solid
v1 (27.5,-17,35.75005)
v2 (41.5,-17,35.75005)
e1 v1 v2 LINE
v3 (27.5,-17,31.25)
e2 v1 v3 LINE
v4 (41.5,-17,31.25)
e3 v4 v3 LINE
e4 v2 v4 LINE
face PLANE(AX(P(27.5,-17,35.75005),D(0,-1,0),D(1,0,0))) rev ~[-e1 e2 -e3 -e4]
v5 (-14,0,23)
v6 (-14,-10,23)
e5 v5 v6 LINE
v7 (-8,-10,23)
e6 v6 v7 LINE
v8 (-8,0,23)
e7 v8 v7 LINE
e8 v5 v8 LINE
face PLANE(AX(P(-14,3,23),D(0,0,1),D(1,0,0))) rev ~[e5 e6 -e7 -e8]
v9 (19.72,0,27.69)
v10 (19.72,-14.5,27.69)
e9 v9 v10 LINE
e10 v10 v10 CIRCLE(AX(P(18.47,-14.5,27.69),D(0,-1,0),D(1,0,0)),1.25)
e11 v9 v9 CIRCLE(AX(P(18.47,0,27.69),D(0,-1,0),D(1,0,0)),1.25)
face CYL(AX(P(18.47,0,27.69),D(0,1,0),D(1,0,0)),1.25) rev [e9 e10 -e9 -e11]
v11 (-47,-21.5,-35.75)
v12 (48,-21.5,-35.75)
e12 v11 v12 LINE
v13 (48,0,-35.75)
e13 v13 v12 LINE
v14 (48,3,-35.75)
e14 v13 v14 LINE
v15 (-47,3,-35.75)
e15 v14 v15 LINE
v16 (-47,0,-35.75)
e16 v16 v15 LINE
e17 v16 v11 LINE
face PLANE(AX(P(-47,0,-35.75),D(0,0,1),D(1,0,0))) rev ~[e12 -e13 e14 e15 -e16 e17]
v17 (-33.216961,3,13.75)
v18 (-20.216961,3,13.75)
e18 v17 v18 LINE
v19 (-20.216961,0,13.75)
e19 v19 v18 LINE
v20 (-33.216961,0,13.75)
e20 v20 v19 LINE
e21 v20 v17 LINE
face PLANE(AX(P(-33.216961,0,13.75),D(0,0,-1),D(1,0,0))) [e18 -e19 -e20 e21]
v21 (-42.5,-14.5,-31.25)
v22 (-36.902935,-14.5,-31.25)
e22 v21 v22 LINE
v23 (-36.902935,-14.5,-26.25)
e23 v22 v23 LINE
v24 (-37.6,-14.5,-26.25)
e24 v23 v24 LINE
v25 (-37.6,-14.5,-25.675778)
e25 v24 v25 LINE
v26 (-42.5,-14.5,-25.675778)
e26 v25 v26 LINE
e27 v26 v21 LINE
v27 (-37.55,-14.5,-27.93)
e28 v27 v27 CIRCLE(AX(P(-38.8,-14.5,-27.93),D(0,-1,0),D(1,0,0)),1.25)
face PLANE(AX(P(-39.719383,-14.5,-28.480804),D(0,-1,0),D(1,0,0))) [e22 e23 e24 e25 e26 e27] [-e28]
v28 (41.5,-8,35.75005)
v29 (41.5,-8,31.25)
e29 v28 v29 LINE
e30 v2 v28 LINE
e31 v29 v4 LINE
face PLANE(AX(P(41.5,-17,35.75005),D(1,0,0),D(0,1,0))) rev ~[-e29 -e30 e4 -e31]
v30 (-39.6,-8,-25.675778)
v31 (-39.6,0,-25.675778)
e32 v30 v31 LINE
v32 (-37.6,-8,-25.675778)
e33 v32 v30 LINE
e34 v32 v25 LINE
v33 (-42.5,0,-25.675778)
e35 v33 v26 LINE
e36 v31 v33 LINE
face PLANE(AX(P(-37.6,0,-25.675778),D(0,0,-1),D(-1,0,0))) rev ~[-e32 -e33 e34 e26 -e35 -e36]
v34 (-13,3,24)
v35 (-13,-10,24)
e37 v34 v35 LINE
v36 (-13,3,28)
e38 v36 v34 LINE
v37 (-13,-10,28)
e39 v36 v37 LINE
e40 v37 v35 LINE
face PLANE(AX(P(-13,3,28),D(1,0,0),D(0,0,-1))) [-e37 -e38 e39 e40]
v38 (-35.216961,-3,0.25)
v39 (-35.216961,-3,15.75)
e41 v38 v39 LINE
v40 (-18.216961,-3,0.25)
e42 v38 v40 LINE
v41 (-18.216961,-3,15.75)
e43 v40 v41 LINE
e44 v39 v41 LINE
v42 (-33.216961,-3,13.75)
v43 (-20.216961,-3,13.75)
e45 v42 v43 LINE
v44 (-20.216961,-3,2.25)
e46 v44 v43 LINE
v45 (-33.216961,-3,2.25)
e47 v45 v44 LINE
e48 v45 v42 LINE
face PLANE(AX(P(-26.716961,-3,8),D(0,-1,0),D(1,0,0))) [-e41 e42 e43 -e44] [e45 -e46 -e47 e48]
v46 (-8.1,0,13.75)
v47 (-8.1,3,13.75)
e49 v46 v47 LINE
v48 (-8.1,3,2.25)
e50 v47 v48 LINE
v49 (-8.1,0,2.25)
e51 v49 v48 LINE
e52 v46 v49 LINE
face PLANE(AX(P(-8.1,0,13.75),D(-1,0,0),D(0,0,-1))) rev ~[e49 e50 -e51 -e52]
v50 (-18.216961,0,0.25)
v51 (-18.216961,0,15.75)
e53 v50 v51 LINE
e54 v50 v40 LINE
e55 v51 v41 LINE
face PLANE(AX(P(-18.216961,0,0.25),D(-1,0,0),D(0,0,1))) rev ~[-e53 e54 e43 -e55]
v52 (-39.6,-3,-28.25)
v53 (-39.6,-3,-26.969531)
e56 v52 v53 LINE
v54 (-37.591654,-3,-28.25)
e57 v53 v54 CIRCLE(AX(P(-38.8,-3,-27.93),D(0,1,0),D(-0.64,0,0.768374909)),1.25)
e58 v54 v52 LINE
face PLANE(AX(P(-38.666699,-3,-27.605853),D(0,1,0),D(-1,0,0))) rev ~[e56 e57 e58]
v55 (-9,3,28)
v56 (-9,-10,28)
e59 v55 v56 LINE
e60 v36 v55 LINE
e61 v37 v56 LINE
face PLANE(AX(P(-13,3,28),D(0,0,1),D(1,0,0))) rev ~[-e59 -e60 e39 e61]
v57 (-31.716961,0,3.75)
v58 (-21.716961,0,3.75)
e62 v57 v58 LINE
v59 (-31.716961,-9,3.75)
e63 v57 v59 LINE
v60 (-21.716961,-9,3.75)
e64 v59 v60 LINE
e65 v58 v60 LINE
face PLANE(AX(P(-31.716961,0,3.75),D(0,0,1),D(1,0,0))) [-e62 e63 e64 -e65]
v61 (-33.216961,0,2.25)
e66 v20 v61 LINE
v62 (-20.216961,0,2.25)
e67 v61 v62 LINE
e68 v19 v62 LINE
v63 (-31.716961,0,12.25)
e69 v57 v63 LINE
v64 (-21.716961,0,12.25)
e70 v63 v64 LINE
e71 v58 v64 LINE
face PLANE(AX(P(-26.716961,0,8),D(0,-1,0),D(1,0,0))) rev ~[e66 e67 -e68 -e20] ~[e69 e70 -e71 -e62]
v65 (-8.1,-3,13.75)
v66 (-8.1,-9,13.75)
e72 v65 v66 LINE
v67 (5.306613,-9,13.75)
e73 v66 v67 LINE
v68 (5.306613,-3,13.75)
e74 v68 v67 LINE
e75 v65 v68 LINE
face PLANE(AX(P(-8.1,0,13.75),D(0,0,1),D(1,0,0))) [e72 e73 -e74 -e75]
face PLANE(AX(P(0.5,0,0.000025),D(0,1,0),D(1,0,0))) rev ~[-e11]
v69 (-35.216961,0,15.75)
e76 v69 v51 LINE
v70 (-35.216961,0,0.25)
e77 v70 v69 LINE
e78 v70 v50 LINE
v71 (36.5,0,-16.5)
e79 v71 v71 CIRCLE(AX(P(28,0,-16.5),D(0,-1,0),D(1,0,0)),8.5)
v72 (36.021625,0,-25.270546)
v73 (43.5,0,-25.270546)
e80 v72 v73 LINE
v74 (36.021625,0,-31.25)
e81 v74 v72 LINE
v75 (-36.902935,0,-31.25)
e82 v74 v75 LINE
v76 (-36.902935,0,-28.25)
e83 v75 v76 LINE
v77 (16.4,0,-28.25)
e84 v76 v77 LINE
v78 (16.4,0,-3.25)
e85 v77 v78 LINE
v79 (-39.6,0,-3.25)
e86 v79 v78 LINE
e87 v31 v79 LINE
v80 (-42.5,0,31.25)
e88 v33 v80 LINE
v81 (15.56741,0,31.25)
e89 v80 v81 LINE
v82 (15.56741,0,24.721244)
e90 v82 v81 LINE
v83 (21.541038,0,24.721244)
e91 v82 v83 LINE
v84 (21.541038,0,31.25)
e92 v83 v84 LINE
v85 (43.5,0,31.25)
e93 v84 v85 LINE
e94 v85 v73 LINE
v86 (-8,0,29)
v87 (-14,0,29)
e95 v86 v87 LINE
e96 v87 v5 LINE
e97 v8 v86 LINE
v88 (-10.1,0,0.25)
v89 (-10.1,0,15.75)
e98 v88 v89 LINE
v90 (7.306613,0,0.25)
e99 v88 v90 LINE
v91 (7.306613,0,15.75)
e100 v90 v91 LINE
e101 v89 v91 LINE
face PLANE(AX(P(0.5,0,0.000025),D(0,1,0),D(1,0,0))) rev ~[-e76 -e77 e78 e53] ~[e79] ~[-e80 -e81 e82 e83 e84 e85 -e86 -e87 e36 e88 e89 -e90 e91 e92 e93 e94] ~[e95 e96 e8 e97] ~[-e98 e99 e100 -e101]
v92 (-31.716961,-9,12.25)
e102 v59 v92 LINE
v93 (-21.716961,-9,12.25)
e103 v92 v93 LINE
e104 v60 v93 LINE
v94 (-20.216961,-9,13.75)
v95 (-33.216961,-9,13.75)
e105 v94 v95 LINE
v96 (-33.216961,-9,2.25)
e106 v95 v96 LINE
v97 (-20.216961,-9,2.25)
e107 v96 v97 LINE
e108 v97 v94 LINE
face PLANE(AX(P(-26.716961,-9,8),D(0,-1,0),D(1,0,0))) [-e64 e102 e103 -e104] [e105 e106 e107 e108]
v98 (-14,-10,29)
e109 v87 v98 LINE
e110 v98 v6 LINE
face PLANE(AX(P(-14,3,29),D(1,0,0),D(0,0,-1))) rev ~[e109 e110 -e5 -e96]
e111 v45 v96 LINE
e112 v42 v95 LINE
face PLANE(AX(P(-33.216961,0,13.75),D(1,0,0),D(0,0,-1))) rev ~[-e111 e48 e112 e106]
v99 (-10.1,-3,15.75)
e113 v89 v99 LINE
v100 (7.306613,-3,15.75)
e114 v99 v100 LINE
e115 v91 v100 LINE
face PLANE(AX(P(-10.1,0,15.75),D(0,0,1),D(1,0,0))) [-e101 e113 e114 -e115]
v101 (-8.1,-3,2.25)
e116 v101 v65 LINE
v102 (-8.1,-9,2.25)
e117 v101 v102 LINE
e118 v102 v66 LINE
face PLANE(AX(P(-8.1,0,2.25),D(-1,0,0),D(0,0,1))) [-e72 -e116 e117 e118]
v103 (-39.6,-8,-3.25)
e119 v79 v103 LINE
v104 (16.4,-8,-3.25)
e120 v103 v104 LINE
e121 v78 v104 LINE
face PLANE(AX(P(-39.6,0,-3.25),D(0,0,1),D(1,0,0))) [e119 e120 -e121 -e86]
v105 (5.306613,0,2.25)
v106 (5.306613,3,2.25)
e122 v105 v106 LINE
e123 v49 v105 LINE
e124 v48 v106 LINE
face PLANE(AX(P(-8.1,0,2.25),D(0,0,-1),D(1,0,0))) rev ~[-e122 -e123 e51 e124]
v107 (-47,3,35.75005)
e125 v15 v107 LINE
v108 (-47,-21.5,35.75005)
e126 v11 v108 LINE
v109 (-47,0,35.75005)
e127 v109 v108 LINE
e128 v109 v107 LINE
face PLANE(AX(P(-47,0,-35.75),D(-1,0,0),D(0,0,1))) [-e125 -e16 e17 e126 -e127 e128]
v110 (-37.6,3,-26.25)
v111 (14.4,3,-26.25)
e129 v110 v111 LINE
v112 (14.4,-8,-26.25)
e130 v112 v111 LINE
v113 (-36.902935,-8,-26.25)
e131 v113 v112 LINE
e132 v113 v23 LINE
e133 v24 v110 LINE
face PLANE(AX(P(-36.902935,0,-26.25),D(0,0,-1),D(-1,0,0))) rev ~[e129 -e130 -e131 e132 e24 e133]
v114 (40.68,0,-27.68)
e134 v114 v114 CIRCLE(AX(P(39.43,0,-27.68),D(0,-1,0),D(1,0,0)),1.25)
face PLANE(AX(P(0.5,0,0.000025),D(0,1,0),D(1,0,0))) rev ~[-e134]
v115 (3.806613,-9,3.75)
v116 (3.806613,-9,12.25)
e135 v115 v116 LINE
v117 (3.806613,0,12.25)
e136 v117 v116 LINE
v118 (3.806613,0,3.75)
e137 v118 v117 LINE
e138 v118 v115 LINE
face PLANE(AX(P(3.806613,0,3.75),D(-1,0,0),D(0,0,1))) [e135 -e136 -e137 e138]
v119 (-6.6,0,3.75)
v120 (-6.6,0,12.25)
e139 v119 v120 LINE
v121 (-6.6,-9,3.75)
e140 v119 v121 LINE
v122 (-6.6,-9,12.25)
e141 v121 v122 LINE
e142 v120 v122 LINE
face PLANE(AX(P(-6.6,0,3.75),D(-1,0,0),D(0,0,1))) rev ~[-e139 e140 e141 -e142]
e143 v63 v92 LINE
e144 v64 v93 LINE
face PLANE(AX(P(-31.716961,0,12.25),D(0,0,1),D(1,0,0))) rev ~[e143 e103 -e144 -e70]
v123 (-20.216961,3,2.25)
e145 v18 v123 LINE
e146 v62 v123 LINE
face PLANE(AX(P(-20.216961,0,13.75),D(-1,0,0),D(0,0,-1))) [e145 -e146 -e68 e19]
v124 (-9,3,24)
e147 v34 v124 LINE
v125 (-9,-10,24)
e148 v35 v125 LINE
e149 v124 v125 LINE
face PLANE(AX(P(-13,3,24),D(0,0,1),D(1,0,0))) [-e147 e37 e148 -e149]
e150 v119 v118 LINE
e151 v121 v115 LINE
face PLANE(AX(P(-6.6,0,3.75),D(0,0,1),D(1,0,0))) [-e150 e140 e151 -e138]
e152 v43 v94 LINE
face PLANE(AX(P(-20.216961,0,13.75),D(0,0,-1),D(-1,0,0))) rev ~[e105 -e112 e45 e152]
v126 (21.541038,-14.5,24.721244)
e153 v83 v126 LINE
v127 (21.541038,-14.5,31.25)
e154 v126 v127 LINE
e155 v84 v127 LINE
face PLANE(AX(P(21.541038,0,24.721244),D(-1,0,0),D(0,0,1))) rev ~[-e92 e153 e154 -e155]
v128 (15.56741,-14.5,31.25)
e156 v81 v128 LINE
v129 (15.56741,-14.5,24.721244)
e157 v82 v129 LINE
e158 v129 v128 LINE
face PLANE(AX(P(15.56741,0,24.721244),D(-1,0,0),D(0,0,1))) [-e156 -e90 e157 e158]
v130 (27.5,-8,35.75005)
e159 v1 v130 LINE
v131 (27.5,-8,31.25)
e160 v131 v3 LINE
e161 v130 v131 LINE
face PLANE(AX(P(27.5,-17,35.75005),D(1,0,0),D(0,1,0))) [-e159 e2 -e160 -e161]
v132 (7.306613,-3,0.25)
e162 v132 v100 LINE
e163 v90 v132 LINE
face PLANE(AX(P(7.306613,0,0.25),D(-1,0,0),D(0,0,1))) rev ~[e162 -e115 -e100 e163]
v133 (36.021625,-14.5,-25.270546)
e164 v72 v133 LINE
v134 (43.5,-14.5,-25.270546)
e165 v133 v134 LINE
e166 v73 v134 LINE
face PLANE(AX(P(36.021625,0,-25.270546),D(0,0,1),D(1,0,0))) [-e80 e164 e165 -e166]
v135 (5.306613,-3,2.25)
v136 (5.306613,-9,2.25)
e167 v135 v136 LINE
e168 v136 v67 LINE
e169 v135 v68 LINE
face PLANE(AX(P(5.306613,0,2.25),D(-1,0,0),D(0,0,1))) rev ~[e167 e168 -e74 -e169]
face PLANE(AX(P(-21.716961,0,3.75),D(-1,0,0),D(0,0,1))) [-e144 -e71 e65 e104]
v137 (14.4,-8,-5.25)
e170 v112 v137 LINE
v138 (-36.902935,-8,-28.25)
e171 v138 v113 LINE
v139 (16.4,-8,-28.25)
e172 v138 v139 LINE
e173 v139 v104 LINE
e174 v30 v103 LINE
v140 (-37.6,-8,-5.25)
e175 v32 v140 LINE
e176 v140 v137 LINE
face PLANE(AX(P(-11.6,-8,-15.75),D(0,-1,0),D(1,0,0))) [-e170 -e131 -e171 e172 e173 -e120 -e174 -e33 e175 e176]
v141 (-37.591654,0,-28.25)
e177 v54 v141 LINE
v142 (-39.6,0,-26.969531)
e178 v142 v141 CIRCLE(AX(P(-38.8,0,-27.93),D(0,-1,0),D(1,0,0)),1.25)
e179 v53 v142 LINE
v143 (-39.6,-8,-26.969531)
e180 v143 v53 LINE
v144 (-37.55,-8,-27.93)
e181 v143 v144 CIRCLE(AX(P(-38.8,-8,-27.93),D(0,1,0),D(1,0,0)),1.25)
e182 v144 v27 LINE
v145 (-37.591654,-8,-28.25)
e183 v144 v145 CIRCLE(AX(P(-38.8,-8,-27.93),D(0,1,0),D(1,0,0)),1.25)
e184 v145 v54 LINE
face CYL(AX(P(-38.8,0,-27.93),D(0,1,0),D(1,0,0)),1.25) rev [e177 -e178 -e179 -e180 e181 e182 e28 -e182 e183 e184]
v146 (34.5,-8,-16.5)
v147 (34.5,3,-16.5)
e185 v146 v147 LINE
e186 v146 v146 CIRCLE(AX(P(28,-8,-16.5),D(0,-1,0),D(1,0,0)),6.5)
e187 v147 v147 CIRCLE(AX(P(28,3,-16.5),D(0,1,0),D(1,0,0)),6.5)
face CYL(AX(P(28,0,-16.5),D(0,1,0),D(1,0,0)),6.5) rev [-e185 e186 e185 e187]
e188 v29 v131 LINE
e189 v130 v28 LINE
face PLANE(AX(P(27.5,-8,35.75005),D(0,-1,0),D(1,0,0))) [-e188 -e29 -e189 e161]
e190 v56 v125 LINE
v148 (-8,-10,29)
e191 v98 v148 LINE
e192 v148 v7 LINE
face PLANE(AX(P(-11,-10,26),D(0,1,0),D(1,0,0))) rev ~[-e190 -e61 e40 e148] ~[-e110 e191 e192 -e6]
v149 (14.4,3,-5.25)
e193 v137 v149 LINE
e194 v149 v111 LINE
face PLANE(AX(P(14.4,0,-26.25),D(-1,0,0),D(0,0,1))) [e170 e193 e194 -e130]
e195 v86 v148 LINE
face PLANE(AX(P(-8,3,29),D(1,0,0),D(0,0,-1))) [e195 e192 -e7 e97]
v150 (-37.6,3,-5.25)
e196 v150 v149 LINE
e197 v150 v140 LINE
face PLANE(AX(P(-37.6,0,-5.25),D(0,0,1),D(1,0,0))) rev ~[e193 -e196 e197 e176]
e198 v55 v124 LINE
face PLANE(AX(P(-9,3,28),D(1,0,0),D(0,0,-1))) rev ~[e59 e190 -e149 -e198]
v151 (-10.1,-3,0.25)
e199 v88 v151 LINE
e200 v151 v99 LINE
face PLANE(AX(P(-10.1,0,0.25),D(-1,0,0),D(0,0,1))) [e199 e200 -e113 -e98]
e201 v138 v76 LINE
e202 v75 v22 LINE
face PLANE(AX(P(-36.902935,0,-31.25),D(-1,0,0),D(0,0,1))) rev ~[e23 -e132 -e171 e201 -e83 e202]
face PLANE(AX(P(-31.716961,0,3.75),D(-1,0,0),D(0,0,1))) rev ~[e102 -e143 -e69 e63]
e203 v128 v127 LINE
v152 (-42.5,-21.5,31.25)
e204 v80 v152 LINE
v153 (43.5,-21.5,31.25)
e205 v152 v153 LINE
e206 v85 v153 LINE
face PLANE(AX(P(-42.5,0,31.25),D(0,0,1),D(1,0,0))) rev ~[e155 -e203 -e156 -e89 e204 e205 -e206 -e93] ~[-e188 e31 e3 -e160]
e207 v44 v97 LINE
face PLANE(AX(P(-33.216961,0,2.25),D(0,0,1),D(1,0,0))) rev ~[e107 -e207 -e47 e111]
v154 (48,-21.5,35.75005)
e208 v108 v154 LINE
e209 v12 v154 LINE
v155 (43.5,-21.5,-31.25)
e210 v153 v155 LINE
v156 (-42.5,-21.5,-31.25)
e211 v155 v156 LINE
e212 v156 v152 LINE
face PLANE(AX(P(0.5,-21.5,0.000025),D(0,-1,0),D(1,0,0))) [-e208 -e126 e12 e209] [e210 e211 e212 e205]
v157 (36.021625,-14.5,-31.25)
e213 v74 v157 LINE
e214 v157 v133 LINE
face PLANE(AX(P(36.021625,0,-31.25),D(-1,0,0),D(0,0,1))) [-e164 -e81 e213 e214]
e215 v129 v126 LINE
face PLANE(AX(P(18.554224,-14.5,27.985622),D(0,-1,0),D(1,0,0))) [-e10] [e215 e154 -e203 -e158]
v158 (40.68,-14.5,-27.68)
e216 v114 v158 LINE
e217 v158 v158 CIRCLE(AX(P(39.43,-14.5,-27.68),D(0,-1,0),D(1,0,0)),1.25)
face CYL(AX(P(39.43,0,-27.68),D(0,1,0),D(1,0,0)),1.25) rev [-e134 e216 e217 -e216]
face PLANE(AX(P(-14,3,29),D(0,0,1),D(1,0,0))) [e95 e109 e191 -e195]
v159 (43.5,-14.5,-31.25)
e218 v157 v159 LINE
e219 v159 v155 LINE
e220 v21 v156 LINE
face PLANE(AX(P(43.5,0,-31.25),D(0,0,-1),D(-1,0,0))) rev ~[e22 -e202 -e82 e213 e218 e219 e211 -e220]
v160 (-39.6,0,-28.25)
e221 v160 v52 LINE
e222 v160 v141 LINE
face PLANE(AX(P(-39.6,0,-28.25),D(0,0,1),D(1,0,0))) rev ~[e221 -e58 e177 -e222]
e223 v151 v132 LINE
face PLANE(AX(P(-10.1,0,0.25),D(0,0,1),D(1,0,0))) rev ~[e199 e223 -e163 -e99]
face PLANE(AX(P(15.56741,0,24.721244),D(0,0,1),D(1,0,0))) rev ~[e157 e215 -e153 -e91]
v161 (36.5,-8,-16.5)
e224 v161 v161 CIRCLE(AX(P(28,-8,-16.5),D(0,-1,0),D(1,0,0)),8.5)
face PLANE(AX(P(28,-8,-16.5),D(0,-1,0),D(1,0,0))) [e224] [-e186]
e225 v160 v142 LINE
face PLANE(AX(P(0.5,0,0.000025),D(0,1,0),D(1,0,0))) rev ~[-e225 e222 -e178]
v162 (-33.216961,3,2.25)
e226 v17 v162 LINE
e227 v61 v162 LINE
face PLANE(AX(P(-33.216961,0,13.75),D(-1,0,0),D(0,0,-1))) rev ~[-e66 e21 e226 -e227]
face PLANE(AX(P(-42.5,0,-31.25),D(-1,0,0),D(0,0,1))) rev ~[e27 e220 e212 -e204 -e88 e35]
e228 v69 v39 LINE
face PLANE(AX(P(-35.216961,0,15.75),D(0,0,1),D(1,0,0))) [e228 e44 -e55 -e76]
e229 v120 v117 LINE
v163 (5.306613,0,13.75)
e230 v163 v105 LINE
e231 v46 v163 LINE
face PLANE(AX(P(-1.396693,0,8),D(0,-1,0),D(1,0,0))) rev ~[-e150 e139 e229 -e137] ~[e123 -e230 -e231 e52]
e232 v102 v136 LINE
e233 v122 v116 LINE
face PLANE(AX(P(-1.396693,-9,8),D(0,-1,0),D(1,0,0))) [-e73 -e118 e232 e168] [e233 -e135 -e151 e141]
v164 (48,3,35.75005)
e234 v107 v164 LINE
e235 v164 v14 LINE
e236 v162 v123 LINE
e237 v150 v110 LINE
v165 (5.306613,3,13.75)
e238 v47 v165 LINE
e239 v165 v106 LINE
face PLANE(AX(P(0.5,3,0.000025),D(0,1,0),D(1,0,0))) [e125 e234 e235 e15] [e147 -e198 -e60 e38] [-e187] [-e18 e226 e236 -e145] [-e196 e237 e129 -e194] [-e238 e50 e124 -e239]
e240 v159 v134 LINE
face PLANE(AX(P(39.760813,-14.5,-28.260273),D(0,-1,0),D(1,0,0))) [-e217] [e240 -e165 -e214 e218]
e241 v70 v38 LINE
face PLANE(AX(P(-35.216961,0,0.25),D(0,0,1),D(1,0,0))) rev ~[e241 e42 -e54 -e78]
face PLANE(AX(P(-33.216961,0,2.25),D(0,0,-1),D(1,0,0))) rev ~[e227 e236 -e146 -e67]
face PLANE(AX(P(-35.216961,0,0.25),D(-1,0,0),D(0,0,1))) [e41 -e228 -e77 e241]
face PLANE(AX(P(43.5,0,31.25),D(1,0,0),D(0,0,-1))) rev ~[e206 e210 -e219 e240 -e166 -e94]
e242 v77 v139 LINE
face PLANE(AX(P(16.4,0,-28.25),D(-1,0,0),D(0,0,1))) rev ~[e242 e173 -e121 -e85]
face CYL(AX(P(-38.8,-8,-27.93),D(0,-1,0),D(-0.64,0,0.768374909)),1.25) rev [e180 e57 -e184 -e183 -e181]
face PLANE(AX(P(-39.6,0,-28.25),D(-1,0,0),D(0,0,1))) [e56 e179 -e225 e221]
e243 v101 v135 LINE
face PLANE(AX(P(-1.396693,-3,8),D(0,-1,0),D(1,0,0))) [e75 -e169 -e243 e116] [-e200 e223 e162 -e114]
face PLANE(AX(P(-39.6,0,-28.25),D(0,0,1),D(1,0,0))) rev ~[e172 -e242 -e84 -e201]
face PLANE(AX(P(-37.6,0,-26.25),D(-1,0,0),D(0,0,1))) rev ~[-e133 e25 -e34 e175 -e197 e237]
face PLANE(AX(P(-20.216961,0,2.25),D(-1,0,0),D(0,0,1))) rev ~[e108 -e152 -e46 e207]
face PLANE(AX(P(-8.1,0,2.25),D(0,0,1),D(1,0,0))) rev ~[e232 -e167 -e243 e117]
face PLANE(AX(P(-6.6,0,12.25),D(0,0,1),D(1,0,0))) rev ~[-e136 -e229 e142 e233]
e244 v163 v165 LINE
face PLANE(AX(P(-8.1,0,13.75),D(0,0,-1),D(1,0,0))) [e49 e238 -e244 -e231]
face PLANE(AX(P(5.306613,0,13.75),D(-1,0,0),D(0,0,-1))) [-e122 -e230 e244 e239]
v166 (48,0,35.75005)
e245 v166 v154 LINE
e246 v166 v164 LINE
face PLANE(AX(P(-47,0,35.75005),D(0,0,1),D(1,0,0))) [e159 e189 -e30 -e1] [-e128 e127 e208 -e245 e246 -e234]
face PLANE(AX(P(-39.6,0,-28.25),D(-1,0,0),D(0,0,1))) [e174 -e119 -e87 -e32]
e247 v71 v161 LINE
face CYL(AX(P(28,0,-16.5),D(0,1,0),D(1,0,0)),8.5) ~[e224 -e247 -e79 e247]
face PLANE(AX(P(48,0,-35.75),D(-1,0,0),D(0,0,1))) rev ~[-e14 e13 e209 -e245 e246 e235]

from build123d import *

# Parameters (mm, degrees)
SKETCH1_W             = 13
SKETCH1_H             = 11.5
SKETCH1_W_2           = 13.406613497
SKETCH1_W_3           = 52
SKETCH1_H_2           = 21
SKETCH1_R             = 6.5
BOSS_EXTRUDE1_DEPTH   = 3
SKETCH2_W             = 95
SKETCH2_H             = 71.500049505
BOSS_EXTRUDE2_DEPTH   = 21.5
SKETCH3_R             = 1.25
SKETCH3_W             = 7.478374846
SKETCH3_H             = 5.979454016
SKETCH3_W_2           = 5.973627986
SKETCH3_H_2           = 6.528755861
BOSS_EXTRUDE3_DEPTH   = 14.5
CUT_EXTRUDE1_REACH    = 73.5
SKETCH4_W             = 14
SKETCH4_H             = 9
SKETCH5_R             = 8.5
SKETCH5_R_2           = 6.5
SKETCH5_W             = 56
SKETCH5_H             = 25
SKETCH5_W_2           = 52
SKETCH5_H_2           = 21
BOSS_EXTRUDE4_DEPTH   = 8
SKETCH7_W             = 6
SKETCH7_H             = 6
SKETCH7_W_2           = 4
SKETCH7_H_2           = 4
BOSS_EXTRUDE5_DEPTH   = 13
SKETCH8_W             = 10
SKETCH8_H             = 8.5
BOSS_EXTRUDE6_DEPTH   = 9
SKETCH8_W_2           = 13.406613497
SKETCH8_H_2           = 11.5
SKETCH8_W_3           = 10.406613497
BOSS_EXTRUDE6_2_DEPTH = 9
SKETCH9_W             = 17.406613497
SKETCH9_H             = 15.5
SKETCH9_W_2           = 13.406613497
SKETCH9_H_2           = 11.5
SKETCH9_W_3           = 17
SKETCH9_W_4           = 13
BOSS_EXTRUDE7_DEPTH   = 3
CUT_EXTRUDE2_DEPTH    = 5


with BuildPart() as part:
    # Sketch1 → Boss-Extrude1 (new body)
    with BuildSketch(Plane(origin=(0, 0, 0), x_dir=(1, 0, 0), z_dir=(0, 1, 0))):
        Polygon((48, 35.75), (46, 35.75), (45, 35.75), (-47, 35.75), (-47, 33.75), (-47, -33.75), (-47, -35.750049505), (45, -35.750049505), (46, -35.750049505), (48, -35.750049505), align=None)
        Polygon((-8, -29), (-11, -29), (-14, -29), (-14, -23), (-8, -23), align=None, mode=Mode.SUBTRACT)
        with Locations((-26.716961343, -8)):
            Rectangle(SKETCH1_W, SKETCH1_H, mode=Mode.SUBTRACT)
        with Locations((-1.396693251, -8)):
            Rectangle(SKETCH1_W_2, SKETCH1_H, mode=Mode.SUBTRACT)
        with Locations((-11.6, 15.75)):
            Rectangle(SKETCH1_W_3, SKETCH1_H_2, mode=Mode.SUBTRACT)
        with Locations((28, 16.5)):
            Circle(SKETCH1_R, mode=Mode.SUBTRACT)
    extrude(amount=BOSS_EXTRUDE1_DEPTH)

    # Sketch2 → Boss-Extrude2 (add)
    with BuildSketch(Plane.XZ):
        with Locations((0.5, 2.4752e-05)):
            Rectangle(SKETCH2_W, SKETCH2_H)
        Polygon((41.5, -31.25), (40.5, -31.25), (-42.5, -31.25), (-42.5, 31.25), (40.5, 31.25), (41.5, 31.25), (43.5, 31.25), (43.5, -31.25), align=None, mode=Mode.SUBTRACT)
    extrude(amount=BOSS_EXTRUDE2_DEPTH)

    # Sketch3 → Boss-Extrude3 (add)
    with BuildSketch(Plane.XZ):
        Polygon((-38.8, -25.675777927), (-42.5, -25.675777927), (-42.5, -31.25), (-36.902935229, -31.25), (-36.902935229, -27.93), (-36.902935229, -26.25), (-37.6, -26.25), (-37.6, -25.675777927), align=None)
        with Locations((-38.8, -27.93)):
            Circle(SKETCH3_R, mode=Mode.SUBTRACT)
        with Locations((39.760812577, -28.260272992)):
            Rectangle(SKETCH3_W, SKETCH3_H)
        with Locations((39.43, -27.68)):
            Circle(SKETCH3_R, mode=Mode.SUBTRACT)
        with Locations((18.554223867, 27.98562207)):
            Rectangle(SKETCH3_W_2, SKETCH3_H_2)
        with Locations((18.47, 27.69)):
            Circle(SKETCH3_R, mode=Mode.SUBTRACT)
    extrude(amount=BOSS_EXTRUDE3_DEPTH)

    # Sketch4 → Cut-Extrude1 (cut, up to next)
    with BuildSketch(Plane.XY.offset(35.750049505), mode=Mode.PRIVATE) as cut_extrude1_sk1:
        with Locations((34.5, -12.5)):
            Rectangle(SKETCH4_W, SKETCH4_H)
    cut_extrude1_tool1 = extrude(cut_extrude1_sk1.sketch, amount=-CUT_EXTRUDE1_REACH, mode=Mode.PRIVATE) & part.part
    add(cut_extrude1_tool1.solids().sort_by_distance((34.5, -12.5, 35.75005))[0], mode=Mode.SUBTRACT)

    # Sketch5 → Boss-Extrude4 (add)
    with BuildSketch(Plane.XZ):
        with Locations((28, -16.5)):
            Circle(SKETCH5_R)
        with Locations((28, -16.5)):
            Circle(SKETCH5_R_2, mode=Mode.SUBTRACT)
        with Locations((-11.6, -15.75)):
            Rectangle(SKETCH5_W, SKETCH5_H)
        with Locations((-11.6, -15.75)):
            Rectangle(SKETCH5_W_2, SKETCH5_H_2, mode=Mode.SUBTRACT)
    extrude(amount=BOSS_EXTRUDE4_DEPTH)

    # Sketch7 → Boss-Extrude5 (add)
    with BuildSketch(Plane(origin=(0, 3, 0), x_dir=(1, 0, 0), z_dir=(0, 1, 0))):
        with Locations((-11, -26)):
            Rectangle(SKETCH7_W, SKETCH7_H)
        with Locations((-11, -26)):
            Rectangle(SKETCH7_W_2, SKETCH7_H_2, mode=Mode.SUBTRACT)
    extrude(amount=-BOSS_EXTRUDE5_DEPTH)



with BuildPart() as body_2:
    # Sketch8 → Boss-Extrude6 (new body)
    with BuildSketch(Plane.XZ):
        Polygon((-33.216961343, 12.25), (-33.216961343, 2.25), (-20.216961343, 2.25), (-20.216961343, 12.25), (-20.216961343, 13.75), (-33.216961343, 13.75), align=None)
        with Locations((-26.716961343, 8)):
            Rectangle(SKETCH8_W, SKETCH8_H, mode=Mode.SUBTRACT)
    extrude(amount=BOSS_EXTRUDE6_DEPTH)


with BuildPart() as body_3:
    # Sketch8 → Boss-Extrude6 2 (new body)
    with BuildSketch(Plane.XZ):
        with Locations((-1.396693251, 8)):
            Rectangle(SKETCH8_W_2, SKETCH8_H_2)
        with Locations((-1.396693252, 8)):
            Rectangle(SKETCH8_W_3, SKETCH8_H, mode=Mode.SUBTRACT)
    extrude(amount=BOSS_EXTRUDE6_2_DEPTH)


with BuildPart() as part_1:
    add(part.part)

    add(body_2.part)  # Boss-Extrude7 merges body 2

    add(body_3.part)  # Boss-Extrude7 merges body 3
    # Sketch9 → Boss-Extrude7 (add)
    with BuildSketch(Plane.XZ):
        with Locations((-1.396693252, 8)):
            Rectangle(SKETCH9_W, SKETCH9_H)
        with Locations((-1.396693251, 8)):
            Rectangle(SKETCH9_W_2, SKETCH9_H_2, mode=Mode.SUBTRACT)
        with Locations((-26.716961343, 8)):
            Rectangle(SKETCH9_W_3, SKETCH9_H)
        with Locations((-26.716961343, 8)):
            Rectangle(SKETCH9_W_4, SKETCH9_H_2, mode=Mode.SUBTRACT)
    extrude(amount=BOSS_EXTRUDE7_DEPTH)

    # Sketch10 → Cut-Extrude2 (cut)
    with BuildSketch(Plane.XZ.offset(8)):
        with BuildLine():
            Line((-39.6, -28.25), (-39.6, -26.969531364))
            ThreePointArc((-39.6, -26.969531364), (-38.127998072, -26.876001229), (-37.591654023, -28.25))
            Line((-37.591654023, -28.25), (-39.6, -28.25))
        make_face()
    extrude(amount=-CUT_EXTRUDE2_DEPTH, mode=Mode.SUBTRACT)


solid = part_1.part
